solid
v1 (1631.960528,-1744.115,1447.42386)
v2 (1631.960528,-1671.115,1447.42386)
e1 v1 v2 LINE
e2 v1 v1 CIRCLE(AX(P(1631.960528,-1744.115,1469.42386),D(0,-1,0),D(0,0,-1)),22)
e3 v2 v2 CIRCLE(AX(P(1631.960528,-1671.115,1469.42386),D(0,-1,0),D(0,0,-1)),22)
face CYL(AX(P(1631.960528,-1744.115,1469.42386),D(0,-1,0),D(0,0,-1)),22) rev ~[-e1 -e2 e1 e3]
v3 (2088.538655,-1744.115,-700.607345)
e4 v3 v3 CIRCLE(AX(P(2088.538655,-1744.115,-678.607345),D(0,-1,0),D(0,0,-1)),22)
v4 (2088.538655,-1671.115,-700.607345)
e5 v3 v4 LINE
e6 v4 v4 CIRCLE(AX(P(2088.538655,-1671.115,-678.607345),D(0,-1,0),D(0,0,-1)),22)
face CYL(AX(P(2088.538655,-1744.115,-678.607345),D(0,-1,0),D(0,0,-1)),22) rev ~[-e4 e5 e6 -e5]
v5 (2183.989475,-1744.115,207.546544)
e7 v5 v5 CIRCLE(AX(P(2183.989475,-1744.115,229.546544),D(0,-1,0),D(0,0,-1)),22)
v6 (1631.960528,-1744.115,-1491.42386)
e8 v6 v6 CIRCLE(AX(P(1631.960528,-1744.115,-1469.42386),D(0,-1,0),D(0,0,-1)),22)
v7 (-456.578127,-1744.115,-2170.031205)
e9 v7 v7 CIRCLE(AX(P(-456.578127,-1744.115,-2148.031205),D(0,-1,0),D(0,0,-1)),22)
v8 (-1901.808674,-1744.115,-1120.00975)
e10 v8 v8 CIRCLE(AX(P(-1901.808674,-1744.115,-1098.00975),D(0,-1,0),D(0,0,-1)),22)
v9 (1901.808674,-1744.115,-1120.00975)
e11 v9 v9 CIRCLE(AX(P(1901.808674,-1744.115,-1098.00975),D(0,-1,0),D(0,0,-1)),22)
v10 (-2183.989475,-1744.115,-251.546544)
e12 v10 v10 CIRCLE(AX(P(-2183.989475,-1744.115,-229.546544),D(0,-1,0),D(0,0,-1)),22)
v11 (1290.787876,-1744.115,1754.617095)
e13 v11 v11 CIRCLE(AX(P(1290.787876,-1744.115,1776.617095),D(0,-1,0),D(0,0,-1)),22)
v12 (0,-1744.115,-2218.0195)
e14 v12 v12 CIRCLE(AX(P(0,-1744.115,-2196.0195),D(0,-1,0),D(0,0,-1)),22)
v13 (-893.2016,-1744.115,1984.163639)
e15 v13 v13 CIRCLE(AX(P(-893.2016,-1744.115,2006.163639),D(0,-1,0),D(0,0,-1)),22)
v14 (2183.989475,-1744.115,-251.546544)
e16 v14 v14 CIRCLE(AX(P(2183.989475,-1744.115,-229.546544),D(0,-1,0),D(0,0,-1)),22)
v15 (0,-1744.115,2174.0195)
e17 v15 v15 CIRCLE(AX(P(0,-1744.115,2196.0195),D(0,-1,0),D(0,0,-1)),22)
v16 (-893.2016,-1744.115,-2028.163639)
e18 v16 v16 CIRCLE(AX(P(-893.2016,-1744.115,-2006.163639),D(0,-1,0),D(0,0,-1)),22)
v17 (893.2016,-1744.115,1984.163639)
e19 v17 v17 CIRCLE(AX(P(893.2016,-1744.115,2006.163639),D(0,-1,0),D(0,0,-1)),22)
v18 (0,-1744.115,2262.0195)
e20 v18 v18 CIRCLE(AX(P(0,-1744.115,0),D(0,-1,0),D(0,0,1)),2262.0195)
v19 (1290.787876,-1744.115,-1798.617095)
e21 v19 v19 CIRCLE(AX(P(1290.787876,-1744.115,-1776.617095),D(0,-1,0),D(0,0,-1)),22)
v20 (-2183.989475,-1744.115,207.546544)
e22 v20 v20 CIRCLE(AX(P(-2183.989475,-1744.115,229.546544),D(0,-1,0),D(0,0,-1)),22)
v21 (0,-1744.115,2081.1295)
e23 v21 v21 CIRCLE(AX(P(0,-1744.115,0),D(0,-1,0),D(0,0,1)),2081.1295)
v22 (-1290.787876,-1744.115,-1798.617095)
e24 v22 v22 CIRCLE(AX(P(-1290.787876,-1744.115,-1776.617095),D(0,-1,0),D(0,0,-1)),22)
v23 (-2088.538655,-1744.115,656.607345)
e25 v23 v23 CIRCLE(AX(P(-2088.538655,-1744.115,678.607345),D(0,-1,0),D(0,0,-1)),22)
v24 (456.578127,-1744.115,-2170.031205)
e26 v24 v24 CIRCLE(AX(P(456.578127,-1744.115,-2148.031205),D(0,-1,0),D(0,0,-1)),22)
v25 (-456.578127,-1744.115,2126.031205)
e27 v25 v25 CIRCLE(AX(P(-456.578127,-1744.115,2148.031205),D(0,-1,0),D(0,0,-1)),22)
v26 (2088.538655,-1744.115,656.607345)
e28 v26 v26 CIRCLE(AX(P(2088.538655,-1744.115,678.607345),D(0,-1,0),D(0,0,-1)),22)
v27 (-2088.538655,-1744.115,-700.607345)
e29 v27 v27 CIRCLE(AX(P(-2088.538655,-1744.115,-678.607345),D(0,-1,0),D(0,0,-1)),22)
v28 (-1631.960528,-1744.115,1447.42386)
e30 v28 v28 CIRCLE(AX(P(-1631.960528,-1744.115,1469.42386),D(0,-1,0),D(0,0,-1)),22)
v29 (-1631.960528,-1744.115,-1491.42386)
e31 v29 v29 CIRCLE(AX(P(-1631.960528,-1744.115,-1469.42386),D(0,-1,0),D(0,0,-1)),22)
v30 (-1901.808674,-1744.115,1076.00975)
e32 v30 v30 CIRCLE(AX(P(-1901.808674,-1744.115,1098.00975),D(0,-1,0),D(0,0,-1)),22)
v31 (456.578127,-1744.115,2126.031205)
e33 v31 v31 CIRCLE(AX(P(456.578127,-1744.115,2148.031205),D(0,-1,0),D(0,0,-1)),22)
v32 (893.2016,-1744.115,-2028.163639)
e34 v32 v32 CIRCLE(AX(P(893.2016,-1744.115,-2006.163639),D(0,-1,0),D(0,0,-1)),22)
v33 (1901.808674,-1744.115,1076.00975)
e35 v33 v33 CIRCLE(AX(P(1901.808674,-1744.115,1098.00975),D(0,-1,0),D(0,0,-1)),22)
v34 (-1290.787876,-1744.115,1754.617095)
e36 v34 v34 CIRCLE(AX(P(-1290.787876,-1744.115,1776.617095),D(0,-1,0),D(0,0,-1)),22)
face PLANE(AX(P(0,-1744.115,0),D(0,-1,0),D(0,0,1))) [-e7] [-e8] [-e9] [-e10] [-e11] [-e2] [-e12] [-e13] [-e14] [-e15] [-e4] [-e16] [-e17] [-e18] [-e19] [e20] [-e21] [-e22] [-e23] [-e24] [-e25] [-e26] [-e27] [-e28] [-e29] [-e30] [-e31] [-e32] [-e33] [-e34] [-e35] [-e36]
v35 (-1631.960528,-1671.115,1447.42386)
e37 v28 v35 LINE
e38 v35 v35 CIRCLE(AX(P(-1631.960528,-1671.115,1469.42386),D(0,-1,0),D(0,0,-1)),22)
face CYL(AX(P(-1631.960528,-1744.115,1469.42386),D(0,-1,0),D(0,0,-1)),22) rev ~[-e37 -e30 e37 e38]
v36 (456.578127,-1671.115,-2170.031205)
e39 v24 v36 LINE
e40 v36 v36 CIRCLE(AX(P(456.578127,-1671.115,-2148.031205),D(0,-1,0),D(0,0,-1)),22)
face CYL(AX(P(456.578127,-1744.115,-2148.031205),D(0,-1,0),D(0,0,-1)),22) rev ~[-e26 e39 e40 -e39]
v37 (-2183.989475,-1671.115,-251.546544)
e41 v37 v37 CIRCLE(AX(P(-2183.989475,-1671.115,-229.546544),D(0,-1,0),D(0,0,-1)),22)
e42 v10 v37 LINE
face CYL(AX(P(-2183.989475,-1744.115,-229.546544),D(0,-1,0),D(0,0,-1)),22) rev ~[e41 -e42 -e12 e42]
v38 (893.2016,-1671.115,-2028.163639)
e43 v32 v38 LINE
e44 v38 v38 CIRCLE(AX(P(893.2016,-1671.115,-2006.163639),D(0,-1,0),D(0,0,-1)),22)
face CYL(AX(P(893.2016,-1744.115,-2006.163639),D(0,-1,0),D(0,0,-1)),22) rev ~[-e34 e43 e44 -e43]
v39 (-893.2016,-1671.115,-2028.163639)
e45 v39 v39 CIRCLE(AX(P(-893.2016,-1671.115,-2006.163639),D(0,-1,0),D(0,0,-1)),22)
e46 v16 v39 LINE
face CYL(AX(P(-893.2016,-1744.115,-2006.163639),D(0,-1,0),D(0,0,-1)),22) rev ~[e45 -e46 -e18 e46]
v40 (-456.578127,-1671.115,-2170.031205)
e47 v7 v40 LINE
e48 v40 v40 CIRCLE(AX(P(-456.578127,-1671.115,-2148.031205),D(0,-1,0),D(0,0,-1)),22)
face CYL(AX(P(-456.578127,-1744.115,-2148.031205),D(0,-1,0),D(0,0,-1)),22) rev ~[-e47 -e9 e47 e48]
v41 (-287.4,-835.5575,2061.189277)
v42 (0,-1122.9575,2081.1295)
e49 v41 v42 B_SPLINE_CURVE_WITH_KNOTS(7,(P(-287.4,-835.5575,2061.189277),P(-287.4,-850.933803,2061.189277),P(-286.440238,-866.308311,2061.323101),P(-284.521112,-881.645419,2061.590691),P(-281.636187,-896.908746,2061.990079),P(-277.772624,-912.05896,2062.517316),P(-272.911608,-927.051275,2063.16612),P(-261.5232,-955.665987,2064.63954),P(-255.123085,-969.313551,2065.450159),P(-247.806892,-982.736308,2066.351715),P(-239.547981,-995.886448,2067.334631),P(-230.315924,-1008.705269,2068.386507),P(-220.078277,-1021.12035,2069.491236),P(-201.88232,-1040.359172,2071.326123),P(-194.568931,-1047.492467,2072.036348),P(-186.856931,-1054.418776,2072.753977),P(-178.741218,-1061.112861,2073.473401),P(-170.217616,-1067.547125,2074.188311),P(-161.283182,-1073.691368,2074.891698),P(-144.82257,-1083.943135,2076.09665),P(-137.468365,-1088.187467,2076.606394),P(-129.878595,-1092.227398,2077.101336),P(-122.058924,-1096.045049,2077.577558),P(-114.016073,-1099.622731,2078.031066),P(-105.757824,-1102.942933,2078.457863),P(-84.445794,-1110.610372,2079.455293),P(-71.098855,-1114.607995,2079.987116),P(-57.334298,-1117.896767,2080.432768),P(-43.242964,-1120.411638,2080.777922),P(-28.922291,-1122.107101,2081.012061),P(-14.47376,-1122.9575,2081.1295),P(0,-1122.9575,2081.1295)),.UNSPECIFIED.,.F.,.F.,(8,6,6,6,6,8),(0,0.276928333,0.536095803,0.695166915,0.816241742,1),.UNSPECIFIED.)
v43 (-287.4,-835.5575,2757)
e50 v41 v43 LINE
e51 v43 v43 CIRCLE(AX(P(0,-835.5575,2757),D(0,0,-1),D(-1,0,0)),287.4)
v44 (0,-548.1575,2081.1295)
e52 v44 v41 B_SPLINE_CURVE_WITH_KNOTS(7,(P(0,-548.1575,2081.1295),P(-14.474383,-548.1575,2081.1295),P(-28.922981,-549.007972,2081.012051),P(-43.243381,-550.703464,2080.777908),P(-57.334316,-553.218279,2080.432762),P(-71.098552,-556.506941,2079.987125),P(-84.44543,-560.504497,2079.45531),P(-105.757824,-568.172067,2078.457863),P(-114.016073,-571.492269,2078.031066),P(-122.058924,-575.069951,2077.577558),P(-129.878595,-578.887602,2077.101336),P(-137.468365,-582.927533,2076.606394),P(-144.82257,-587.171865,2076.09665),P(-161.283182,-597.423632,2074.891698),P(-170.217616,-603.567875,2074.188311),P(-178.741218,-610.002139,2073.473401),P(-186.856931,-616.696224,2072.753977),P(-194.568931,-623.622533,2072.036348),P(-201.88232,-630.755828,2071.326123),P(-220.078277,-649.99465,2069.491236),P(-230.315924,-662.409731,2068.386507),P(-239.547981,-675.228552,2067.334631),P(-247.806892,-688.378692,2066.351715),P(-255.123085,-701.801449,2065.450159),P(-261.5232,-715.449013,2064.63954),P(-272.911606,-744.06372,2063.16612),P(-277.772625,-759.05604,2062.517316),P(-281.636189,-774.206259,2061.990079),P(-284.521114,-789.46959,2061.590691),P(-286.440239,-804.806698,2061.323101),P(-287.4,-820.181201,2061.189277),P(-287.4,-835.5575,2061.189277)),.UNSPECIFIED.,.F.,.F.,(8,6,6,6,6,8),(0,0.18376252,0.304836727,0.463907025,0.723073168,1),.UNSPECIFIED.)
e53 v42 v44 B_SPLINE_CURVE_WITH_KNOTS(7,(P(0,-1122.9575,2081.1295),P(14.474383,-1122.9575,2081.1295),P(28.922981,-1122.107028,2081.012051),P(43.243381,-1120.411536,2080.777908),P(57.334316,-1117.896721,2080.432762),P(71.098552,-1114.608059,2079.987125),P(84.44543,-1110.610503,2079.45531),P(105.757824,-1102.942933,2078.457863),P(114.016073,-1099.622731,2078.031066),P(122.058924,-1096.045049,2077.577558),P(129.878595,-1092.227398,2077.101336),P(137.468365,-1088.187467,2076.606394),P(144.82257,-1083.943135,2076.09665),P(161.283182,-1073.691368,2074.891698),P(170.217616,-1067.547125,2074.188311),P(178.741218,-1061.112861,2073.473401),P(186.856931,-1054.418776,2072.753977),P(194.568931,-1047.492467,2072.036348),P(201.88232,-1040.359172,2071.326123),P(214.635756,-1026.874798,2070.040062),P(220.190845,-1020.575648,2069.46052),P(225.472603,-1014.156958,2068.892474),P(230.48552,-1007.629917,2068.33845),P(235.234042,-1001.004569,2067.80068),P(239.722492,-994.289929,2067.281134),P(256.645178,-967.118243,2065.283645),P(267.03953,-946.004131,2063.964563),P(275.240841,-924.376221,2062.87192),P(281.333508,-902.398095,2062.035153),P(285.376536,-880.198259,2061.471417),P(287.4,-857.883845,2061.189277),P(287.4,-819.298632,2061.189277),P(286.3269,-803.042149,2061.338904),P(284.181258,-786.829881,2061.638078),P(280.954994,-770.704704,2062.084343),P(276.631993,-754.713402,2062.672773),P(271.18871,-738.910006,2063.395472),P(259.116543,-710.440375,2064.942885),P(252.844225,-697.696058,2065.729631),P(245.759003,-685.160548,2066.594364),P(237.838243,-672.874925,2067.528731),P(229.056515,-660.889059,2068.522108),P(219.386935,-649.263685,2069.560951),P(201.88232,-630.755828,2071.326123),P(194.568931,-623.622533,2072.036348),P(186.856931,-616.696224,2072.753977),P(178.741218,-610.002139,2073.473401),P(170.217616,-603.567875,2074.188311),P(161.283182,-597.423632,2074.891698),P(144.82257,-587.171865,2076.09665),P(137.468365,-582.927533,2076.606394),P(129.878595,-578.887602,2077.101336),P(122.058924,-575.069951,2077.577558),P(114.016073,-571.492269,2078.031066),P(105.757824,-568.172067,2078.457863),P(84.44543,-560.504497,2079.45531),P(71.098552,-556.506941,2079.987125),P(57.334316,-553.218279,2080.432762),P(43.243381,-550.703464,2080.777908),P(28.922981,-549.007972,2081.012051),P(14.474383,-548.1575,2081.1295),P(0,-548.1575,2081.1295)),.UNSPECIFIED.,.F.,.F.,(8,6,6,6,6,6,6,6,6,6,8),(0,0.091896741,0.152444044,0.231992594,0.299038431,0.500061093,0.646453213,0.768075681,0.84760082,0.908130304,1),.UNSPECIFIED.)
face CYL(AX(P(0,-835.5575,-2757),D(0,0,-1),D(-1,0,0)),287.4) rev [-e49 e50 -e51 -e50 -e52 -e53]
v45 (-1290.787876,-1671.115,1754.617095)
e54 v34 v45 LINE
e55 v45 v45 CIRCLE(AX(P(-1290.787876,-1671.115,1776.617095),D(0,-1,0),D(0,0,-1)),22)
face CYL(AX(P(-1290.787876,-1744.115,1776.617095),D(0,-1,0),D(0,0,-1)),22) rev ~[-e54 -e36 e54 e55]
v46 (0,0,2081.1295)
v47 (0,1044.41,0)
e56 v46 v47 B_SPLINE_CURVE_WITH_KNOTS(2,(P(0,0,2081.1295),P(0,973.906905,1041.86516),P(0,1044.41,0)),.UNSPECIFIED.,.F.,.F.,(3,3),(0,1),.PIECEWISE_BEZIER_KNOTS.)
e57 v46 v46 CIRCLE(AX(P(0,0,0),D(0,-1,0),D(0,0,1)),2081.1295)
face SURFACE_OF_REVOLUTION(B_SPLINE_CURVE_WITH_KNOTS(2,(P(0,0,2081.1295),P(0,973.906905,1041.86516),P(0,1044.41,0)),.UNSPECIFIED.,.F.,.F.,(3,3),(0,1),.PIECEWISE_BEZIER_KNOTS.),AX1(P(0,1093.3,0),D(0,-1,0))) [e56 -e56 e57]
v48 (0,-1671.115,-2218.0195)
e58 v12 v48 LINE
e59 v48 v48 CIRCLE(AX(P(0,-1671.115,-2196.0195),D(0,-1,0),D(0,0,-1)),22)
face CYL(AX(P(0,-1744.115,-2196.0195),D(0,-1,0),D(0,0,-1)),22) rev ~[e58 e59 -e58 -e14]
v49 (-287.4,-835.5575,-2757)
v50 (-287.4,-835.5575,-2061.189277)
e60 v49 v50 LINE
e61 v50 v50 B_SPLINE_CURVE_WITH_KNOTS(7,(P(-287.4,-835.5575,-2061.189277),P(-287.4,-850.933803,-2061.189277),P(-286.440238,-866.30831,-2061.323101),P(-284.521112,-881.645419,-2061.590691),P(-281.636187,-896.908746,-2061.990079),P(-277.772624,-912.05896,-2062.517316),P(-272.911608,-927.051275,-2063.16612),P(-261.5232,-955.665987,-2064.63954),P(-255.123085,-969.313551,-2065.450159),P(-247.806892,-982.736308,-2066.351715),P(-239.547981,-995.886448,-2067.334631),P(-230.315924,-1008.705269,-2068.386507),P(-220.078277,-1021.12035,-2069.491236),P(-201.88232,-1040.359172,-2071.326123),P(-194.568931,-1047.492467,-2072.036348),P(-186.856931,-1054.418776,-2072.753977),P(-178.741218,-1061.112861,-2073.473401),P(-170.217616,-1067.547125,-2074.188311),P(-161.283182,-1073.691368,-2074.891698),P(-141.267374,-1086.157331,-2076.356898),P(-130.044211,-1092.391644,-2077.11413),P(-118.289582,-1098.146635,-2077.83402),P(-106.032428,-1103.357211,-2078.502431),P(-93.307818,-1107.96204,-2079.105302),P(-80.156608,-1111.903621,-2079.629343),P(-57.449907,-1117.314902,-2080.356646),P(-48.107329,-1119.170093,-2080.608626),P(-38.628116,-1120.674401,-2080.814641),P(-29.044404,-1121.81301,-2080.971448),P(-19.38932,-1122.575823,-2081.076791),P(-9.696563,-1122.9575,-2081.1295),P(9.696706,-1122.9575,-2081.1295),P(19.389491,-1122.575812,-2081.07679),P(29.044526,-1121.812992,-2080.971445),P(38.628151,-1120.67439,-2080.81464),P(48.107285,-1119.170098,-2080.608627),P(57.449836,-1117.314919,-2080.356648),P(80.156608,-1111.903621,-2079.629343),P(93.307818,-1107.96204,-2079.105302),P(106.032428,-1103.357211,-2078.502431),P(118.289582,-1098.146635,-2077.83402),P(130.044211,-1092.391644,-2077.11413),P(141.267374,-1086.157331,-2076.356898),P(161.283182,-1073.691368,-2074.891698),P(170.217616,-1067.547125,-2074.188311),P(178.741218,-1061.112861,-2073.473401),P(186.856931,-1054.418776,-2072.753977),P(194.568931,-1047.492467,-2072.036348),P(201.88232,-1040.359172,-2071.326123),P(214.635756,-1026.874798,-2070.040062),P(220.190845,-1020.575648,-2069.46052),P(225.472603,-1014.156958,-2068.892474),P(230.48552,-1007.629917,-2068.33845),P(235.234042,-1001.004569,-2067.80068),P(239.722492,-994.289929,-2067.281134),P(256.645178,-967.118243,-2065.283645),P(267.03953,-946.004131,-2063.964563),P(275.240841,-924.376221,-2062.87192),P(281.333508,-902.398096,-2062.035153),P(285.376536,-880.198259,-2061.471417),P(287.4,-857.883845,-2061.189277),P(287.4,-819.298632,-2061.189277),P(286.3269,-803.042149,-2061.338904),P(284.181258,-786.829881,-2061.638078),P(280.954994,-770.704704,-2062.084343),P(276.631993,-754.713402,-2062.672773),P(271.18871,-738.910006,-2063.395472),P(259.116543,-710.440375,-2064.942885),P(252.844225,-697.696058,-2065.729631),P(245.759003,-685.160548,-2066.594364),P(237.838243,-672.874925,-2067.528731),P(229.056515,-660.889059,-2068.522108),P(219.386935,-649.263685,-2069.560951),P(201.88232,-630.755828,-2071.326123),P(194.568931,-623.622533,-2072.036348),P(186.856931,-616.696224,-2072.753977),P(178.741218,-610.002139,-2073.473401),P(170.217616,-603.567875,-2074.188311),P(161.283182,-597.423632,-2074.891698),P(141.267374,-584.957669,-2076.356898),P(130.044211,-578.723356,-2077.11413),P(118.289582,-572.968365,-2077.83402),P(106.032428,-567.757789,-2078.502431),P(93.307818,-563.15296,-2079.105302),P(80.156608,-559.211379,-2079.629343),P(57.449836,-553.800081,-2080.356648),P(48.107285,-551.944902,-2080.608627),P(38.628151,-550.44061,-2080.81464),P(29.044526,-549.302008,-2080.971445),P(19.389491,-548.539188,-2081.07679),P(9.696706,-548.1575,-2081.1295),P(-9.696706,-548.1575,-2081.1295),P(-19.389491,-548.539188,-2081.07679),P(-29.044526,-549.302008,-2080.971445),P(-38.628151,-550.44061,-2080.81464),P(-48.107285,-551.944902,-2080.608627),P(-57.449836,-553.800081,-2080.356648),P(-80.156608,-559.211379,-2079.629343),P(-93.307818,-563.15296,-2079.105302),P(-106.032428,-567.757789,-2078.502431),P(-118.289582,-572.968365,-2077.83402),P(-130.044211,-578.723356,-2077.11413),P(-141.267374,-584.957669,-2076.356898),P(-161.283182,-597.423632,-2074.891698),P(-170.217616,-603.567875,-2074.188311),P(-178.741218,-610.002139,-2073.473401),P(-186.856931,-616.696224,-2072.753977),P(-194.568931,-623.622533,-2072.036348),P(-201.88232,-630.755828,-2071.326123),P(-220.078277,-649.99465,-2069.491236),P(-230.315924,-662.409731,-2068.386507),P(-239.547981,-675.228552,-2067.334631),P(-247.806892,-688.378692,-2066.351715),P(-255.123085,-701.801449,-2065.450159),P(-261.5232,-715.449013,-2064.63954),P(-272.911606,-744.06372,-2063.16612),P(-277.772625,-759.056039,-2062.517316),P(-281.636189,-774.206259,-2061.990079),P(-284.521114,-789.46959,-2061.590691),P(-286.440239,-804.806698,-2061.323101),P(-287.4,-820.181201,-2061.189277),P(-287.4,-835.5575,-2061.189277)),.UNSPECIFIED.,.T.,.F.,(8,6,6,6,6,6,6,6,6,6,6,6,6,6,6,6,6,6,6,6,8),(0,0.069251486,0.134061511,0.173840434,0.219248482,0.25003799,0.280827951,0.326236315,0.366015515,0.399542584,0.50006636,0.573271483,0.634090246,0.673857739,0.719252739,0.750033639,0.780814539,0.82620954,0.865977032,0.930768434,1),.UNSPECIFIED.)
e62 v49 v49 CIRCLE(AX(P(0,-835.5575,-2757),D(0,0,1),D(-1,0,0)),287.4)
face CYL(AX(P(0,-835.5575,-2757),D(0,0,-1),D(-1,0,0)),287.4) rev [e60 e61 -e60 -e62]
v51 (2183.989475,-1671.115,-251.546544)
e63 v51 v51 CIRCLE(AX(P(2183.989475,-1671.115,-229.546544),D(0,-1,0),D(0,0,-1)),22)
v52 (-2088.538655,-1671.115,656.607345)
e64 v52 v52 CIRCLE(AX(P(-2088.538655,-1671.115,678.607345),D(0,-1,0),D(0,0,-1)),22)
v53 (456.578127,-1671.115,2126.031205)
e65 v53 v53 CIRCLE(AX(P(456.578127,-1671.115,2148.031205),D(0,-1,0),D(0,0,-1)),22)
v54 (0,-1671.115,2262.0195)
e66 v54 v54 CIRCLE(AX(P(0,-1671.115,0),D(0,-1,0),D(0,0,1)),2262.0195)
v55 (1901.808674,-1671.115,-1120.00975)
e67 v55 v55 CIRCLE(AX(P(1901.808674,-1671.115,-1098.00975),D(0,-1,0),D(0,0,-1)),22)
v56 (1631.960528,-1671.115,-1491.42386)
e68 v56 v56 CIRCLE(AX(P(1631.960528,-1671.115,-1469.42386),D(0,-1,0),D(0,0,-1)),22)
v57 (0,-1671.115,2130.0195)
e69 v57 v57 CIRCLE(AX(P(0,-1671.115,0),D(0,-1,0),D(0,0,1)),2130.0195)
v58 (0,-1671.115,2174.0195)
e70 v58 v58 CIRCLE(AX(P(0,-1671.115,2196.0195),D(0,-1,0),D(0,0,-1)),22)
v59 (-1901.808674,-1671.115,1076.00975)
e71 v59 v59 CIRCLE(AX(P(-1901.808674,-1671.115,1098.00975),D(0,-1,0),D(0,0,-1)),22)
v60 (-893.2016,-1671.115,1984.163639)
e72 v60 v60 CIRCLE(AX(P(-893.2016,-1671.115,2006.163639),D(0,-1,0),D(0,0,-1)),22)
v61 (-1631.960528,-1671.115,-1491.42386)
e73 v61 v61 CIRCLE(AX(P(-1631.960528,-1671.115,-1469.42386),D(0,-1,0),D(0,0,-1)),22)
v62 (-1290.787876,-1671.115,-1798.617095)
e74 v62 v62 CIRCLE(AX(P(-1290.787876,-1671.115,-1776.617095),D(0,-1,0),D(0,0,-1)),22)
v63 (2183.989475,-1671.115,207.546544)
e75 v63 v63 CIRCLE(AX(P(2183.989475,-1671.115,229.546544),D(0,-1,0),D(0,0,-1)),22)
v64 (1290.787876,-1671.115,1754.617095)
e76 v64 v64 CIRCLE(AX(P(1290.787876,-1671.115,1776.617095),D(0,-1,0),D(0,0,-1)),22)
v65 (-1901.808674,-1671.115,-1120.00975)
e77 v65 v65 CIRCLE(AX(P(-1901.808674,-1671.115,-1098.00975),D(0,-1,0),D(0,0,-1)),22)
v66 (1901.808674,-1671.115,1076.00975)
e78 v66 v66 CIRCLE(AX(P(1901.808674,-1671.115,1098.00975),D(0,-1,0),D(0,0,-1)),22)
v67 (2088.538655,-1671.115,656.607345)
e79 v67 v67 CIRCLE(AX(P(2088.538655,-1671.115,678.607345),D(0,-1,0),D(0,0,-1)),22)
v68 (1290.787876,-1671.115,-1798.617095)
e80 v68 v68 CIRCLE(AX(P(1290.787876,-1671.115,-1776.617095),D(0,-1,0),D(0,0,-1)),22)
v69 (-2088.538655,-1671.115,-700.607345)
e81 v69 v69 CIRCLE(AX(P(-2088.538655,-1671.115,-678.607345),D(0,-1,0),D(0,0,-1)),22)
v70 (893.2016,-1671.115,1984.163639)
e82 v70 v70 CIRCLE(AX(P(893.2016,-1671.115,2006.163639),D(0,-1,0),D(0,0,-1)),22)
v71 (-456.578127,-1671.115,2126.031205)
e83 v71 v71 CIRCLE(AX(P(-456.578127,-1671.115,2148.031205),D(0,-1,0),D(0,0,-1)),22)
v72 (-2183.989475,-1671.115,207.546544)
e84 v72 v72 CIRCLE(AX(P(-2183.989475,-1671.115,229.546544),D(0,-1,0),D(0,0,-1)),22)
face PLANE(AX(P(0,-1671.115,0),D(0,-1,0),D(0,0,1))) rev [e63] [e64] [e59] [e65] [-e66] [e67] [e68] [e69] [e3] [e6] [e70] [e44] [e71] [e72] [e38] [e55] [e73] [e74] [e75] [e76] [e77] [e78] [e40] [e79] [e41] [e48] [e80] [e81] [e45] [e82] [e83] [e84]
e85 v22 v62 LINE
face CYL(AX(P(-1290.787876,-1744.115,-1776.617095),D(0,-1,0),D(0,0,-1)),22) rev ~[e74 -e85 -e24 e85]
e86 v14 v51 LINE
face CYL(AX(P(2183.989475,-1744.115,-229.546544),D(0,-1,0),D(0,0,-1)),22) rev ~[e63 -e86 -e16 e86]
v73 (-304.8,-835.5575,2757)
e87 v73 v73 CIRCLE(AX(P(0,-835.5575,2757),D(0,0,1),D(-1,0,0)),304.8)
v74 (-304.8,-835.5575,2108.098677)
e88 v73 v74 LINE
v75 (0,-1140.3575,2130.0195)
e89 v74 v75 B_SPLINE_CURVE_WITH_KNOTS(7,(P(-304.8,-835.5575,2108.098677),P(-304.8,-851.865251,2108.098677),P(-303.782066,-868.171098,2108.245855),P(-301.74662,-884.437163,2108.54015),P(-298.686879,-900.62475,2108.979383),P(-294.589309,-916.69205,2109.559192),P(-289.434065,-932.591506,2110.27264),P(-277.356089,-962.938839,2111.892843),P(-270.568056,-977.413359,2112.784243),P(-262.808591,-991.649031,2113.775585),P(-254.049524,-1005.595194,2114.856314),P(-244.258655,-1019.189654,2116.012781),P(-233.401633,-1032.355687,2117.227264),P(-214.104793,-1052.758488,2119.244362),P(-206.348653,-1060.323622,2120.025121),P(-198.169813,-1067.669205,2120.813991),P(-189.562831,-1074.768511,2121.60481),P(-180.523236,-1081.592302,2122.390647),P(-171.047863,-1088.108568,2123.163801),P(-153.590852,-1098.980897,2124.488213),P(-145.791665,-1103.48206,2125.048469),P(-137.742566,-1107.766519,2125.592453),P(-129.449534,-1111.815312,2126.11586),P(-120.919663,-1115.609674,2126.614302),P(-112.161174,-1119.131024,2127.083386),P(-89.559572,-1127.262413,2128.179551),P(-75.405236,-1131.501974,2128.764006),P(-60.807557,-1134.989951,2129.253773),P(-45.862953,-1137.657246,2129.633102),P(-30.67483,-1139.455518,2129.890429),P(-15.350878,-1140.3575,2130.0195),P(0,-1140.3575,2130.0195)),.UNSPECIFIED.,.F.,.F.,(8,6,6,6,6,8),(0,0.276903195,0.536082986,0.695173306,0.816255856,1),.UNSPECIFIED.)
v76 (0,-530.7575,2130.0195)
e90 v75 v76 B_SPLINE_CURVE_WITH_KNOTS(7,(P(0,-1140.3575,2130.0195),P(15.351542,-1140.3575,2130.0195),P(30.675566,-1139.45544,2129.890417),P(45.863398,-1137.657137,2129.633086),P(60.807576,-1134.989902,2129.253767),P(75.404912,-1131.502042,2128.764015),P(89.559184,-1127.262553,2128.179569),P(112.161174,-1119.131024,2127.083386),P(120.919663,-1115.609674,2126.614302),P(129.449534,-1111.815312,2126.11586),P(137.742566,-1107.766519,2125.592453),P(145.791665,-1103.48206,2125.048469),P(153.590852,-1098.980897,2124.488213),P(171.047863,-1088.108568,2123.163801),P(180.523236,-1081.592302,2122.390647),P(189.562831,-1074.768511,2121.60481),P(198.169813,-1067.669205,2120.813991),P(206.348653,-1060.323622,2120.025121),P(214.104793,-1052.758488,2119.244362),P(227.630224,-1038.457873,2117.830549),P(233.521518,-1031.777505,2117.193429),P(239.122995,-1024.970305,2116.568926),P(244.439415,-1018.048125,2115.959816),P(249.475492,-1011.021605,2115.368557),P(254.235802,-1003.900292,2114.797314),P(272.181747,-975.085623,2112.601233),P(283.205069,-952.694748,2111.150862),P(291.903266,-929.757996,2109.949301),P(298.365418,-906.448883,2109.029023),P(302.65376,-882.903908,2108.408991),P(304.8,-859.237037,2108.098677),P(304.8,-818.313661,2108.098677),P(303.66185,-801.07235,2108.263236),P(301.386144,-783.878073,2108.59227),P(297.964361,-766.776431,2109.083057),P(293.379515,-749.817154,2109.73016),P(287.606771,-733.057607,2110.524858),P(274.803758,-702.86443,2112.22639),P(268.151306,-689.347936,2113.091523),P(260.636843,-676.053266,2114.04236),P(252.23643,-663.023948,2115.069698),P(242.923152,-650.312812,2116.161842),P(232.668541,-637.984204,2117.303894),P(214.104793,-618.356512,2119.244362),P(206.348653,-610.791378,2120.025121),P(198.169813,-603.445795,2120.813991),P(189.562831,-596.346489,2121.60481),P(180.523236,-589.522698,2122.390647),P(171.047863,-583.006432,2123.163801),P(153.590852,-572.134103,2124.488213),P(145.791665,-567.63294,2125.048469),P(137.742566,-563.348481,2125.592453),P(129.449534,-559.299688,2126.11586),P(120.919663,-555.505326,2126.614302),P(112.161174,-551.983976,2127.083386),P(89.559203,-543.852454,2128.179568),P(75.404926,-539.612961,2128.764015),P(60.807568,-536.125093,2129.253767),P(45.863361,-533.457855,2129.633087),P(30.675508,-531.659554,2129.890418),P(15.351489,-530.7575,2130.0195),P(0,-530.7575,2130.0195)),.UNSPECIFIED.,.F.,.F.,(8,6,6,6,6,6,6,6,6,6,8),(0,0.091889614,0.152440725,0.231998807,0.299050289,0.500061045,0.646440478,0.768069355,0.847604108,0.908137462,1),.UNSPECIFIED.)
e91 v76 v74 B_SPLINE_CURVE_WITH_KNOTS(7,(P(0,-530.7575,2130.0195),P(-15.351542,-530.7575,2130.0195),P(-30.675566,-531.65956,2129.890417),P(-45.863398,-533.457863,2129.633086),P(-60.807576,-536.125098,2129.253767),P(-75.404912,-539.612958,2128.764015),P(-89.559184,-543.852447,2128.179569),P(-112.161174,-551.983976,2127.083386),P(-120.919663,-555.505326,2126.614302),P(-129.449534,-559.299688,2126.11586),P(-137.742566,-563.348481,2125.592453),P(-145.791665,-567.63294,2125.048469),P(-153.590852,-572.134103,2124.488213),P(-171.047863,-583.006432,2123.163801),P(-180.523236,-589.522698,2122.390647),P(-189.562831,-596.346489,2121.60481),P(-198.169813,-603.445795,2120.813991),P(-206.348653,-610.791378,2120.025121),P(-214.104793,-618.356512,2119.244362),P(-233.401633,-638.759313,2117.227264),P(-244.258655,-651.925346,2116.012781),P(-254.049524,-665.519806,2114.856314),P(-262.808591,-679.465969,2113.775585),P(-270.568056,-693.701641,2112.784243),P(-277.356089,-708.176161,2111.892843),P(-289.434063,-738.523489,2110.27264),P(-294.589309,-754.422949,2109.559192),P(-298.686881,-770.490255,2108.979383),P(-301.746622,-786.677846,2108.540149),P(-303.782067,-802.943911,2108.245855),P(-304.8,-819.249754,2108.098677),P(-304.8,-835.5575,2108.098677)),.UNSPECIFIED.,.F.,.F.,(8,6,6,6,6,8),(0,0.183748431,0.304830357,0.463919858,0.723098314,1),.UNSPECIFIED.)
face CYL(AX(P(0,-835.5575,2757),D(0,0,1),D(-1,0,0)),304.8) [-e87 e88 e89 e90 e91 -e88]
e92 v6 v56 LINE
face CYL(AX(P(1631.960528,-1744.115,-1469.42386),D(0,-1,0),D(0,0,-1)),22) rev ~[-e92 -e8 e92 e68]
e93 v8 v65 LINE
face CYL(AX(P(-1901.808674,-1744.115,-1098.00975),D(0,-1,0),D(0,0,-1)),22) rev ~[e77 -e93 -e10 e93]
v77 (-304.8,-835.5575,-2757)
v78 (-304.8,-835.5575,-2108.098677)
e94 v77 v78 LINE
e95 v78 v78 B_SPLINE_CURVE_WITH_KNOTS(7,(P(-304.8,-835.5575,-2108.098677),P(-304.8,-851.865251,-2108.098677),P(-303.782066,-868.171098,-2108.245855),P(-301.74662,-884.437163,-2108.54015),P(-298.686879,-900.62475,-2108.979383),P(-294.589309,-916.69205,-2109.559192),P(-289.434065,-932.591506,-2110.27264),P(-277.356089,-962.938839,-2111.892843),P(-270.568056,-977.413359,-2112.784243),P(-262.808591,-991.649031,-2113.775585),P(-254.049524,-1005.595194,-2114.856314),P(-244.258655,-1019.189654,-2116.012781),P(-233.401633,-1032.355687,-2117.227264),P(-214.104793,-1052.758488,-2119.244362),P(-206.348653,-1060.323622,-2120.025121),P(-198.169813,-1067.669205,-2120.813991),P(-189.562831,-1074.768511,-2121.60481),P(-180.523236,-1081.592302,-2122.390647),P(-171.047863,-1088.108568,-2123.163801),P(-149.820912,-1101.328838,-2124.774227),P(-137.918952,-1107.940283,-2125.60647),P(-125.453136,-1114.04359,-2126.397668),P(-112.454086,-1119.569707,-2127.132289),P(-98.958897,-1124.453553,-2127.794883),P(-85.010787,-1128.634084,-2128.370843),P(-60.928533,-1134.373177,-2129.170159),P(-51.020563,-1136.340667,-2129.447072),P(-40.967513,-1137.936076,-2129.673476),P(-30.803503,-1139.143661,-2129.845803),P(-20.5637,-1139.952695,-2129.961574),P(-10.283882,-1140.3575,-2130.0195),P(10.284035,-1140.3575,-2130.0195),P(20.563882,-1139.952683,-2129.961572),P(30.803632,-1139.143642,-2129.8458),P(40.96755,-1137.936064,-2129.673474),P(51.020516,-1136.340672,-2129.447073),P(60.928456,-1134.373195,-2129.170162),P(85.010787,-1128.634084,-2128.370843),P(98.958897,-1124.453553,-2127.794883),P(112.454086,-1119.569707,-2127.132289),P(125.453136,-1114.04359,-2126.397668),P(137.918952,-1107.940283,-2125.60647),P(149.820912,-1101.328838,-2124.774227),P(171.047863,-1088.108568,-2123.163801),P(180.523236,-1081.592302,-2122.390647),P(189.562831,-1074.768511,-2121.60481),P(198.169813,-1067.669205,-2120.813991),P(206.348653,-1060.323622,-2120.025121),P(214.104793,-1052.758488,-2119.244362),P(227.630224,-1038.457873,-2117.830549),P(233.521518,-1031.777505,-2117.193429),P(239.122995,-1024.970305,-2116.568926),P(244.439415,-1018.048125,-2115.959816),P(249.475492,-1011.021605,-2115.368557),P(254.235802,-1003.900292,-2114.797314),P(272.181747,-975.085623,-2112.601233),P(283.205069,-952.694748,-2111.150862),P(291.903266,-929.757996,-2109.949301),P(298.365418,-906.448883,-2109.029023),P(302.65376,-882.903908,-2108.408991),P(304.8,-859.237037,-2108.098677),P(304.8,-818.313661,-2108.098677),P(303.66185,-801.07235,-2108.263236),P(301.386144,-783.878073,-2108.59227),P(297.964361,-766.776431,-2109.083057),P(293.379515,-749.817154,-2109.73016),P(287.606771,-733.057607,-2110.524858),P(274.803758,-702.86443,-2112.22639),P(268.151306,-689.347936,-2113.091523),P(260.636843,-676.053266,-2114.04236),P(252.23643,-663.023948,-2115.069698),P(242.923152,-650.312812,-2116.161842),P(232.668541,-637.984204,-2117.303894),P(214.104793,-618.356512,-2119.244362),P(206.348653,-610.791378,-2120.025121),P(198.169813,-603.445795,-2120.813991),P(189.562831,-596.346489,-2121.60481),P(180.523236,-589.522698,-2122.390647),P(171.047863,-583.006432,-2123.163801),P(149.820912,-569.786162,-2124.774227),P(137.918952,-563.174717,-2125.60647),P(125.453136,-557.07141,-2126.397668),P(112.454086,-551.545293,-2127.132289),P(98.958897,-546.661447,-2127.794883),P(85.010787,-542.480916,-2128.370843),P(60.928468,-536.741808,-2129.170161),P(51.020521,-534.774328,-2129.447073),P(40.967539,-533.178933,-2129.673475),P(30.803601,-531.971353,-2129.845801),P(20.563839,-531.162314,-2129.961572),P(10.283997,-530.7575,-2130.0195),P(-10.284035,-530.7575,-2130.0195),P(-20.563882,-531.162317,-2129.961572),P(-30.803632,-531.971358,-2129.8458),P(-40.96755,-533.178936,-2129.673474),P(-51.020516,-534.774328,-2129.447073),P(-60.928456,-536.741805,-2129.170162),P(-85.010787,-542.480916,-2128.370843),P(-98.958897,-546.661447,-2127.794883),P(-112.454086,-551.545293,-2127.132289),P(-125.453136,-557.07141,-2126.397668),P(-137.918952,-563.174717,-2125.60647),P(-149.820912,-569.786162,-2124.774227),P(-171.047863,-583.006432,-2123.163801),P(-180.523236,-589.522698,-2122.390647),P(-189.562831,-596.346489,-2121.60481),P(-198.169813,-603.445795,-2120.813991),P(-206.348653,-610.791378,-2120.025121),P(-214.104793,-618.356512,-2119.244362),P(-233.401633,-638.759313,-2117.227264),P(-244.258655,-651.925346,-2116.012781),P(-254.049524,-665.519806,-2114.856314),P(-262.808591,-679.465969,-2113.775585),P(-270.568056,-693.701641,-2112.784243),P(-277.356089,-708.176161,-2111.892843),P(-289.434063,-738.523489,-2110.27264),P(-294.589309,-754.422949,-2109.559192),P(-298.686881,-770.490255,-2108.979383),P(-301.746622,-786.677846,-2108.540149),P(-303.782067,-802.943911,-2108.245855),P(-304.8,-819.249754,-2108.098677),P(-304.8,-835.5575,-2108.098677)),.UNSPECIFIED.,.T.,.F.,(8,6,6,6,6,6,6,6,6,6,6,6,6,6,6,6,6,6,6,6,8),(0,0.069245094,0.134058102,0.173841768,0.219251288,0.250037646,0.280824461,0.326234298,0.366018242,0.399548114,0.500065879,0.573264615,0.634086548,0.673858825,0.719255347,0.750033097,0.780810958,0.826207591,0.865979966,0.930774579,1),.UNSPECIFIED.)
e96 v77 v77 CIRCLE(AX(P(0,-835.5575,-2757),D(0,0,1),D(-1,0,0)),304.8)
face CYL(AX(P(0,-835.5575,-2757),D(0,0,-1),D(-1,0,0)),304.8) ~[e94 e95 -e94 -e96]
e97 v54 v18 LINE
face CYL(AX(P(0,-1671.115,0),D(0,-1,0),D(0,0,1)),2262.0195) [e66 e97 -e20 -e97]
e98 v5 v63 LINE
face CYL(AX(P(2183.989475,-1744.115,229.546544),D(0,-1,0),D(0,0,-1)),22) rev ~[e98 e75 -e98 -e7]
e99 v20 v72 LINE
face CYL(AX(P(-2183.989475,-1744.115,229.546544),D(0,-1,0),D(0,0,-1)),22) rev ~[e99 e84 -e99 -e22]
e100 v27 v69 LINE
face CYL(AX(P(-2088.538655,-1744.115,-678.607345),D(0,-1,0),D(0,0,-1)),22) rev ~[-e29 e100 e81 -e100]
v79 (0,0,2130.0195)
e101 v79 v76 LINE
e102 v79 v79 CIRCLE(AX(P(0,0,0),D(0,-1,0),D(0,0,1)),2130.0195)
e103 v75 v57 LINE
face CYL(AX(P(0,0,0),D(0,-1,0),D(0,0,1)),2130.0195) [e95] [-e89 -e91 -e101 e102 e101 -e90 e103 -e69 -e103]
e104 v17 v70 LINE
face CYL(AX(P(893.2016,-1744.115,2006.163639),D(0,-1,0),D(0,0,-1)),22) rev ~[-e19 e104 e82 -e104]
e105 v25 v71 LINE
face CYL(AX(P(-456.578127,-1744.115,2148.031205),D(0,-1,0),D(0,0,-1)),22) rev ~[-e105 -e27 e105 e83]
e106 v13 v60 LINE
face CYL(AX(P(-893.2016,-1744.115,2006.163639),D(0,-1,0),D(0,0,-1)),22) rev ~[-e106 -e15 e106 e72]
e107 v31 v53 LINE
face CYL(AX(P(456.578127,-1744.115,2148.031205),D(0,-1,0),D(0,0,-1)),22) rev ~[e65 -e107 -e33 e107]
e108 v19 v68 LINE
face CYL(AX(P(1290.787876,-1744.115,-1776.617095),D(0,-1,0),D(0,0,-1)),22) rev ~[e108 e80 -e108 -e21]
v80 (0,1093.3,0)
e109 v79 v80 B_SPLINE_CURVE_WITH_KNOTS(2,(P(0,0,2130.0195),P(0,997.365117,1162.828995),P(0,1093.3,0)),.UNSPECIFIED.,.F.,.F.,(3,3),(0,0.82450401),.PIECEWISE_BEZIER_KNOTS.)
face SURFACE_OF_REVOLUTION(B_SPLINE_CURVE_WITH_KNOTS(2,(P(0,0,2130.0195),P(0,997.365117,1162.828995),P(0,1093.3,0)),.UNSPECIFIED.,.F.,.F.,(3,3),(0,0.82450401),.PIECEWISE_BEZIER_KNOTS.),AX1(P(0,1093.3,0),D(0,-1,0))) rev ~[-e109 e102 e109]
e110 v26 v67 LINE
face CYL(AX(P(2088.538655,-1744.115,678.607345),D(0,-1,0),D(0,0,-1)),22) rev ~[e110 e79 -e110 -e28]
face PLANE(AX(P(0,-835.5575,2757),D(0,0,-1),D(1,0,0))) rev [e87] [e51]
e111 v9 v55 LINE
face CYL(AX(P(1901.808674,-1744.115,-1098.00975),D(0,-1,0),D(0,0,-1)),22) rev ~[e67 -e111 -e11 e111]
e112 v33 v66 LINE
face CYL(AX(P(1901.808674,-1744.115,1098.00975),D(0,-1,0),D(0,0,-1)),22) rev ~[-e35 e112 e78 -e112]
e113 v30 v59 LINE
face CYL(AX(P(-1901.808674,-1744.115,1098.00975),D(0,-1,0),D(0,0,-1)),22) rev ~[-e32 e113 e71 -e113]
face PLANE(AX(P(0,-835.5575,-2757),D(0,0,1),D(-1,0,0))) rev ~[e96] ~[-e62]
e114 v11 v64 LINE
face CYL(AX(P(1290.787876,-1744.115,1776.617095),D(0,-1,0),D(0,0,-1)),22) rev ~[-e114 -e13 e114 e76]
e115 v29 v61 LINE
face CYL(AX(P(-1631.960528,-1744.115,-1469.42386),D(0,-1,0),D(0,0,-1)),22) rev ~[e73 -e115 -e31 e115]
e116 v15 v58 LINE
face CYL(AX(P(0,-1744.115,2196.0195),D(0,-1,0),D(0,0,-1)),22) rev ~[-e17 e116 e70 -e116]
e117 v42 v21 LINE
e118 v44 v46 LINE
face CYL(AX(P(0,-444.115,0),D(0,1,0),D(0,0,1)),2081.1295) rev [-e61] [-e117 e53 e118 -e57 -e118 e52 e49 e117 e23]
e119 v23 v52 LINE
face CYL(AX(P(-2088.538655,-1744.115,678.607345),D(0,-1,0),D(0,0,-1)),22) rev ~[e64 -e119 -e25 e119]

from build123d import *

# Parameters (mm, degrees)
SKETCH5_R           = 304.8
BOSS_EXTRUDE1_DEPTH = 740
SKETCH6_R           = 287.4
CUT_EXTRUDE2_DEPTH  = 10000
SKETCH7_R           = 2056.6885
CUT_EXTRUDE3_DEPTH  = 1400
CUT_EXTRUDE4_START  = -1300
SKETCH9_R           = 2081.1295
CUT_EXTRUDE4_DEPTH  = 1300
SKETCH11_R          = 22
CUT_EXTRUDE5_DEPTH  = 500


with BuildPart() as part:
    # Sketch2 → Revolve3 (revolve)
    with BuildSketch(Plane(origin=(0, 0, 0), x_dir=(0, 0, -1), z_dir=(1, 0, 0))):
        with BuildLine():
            Line((-2081.1295, -171.115), (-2081.1295, 0))
            add(Edge.make_bspline(
                [(-2081.1295, 0), (-1041.865159808, 973.906904547), (0, 1044.41)],
                knots=[0, 0, 0, 1, 1, 1], degree=2))
            Line((0, 1044.41), (0, 1093.3))
            add(Edge.make_bspline(
                [(-2130.0195, 0), (-1162.828995464, 997.365117244), (0, 1093.3)],
                knots=[0, 0, 0, 0.82450401, 0.82450401, 0.82450401], degree=2))
            Line((-2130.0195, 0), (-2130.0195, -171.115))
            Line((-2130.0195, -171.115), (-2130.0195, -1671.115))
            Line((-2130.0195, -1671.115), (-2262.0195, -1671.115))
            Line((-2262.0195, -1671.115), (-2262.0195, -1744.115))
            Line((-2262.0195, -1744.115), (-2081.1295, -1744.115))
            Line((-2081.1295, -1744.115), (-2081.1295, -171.115))
        make_face()
    revolve(axis=Axis((0, 1093.3, 0), (0, -1, 0)))

    # Sketch5 → Boss-Extrude1 (add)
    with BuildSketch(Plane.XY.offset(-2757)):
        with Locations(Location((0, -835.5575, 0), (0, 0, 180))):
            Circle(SKETCH5_R)
    boss_extrude1 = extrude(amount=BOSS_EXTRUDE1_DEPTH)

    # Mirror1: Boss-Extrude1 across plane
    add(boss_extrude1.mirror(Plane.XY))

    # Sketch6 → Cut-Extrude2 (cut)
    with BuildSketch(Plane.XY.offset(-2757)):
        with Locations(Location((0, -835.5575, 0), (0, 0, 180))):
            Circle(SKETCH6_R)
    extrude(amount=CUT_EXTRUDE2_DEPTH, mode=Mode.SUBTRACT)

    # Sketch7 → Cut-Extrude3 (cut)
    with BuildSketch(Plane.XZ.offset(1744.115)):
        Circle(SKETCH7_R)
    extrude(amount=-CUT_EXTRUDE3_DEPTH, mode=Mode.SUBTRACT)

    # Sketch9 → Cut-Extrude4 (cut)
    with BuildSketch(Plane.XZ.offset(1744.115).offset(CUT_EXTRUDE4_START)):
        with Locations(Location((0, 0, 0), (0, 0, 90))):
            Circle(SKETCH9_R)
    extrude(amount=CUT_EXTRUDE4_DEPTH, mode=Mode.SUBTRACT)

    # Sketch11 → Cut-Extrude5 (cut)
    with BuildSketch(Plane.XZ.offset(1744.115)):
        with Locations(Location((0, 2196.0195, 0), (0, 0, 270))):
            Circle(SKETCH11_R)
        with Locations(Location((456.578127314, 2148.03120509, 0), (0, 0, 270))):
            Circle(SKETCH11_R)
        with Locations(Location((893.201599559, 2006.16363912, 0), (0, 0, 270))):
            Circle(SKETCH11_R)
        with Locations(Location((1290.787875847, 1776.617095479, 0), (0, 0, 270))):
            Circle(SKETCH11_R)
        with Locations(Location((1631.960528072, 1469.423859611, 0), (0, 0, 270))):
            Circle(SKETCH11_R)
        with Locations(Location((1901.808674206, 1098.00975, 0), (0, 0, 270))):
            Circle(SKETCH11_R)
        with Locations(Location((2088.538655386, 678.607345479, 0), (0, 0, 270))):
            Circle(SKETCH11_R)
        with Locations(Location((2183.989475406, 229.546543641, 0), (0, 0, 270))):
            Circle(SKETCH11_R)
        with Locations(Location((2183.989475406, -229.546543641, 0), (0, 0, 270))):
            Circle(SKETCH11_R)
        with Locations(Location((2088.538655386, -678.607345479, 0), (0, 0, 270))):
            Circle(SKETCH11_R)
        with Locations(Location((1901.808674206, -1098.00975, 0), (0, 0, 270))):
            Circle(SKETCH11_R)
        with Locations(Location((1631.960528072, -1469.423859611, 0), (0, 0, 270))):
            Circle(SKETCH11_R)
        with Locations(Location((1290.787875847, -1776.617095479, 0), (0, 0, 270))):
            Circle(SKETCH11_R)
        with Locations(Location((893.201599559, -2006.16363912, 0), (0, 0, 270))):
            Circle(SKETCH11_R)
        with Locations(Location((456.578127314, -2148.03120509, 0), (0, 0, 270))):
            Circle(SKETCH11_R)
        with Locations(Location((0, -2196.0195, 0), (0, 0, 270))):
            Circle(SKETCH11_R)
        with Locations(Location((-456.578127314, -2148.03120509, 0), (0, 0, 270))):
            Circle(SKETCH11_R)
        with Locations(Location((-893.201599559, -2006.16363912, 0), (0, 0, 270))):
            Circle(SKETCH11_R)
        with Locations(Location((-1290.787875847, -1776.617095479, 0), (0, 0, 270))):
            Circle(SKETCH11_R)
        with Locations(Location((-1631.960528072, -1469.423859611, 0), (0, 0, 270))):
            Circle(SKETCH11_R)
        with Locations(Location((-1901.808674206, -1098.00975, 0), (0, 0, 270))):
            Circle(SKETCH11_R)
        with Locations(Location((-2088.538655386, -678.607345479, 0), (0, 0, 270))):
            Circle(SKETCH11_R)
        with Locations(Location((-2183.989475406, -229.546543641, 0), (0, 0, 270))):
            Circle(SKETCH11_R)
        with Locations(Location((-2183.989475406, 229.546543641, 0), (0, 0, 270))):
            Circle(SKETCH11_R)
        with Locations(Location((-2088.538655386, 678.607345479, 0), (0, 0, 270))):
            Circle(SKETCH11_R)
        with Locations(Location((-1901.808674206, 1098.00975, 0), (0, 0, 270))):
            Circle(SKETCH11_R)
        with Locations(Location((-1631.960528072, 1469.423859611, 0), (0, 0, 270))):
            Circle(SKETCH11_R)
        with Locations(Location((-1290.787875847, 1776.617095479, 0), (0, 0, 270))):
            Circle(SKETCH11_R)
        with Locations(Location((-893.201599559, 2006.16363912, 0), (0, 0, 270))):
            Circle(SKETCH11_R)
        with Locations(Location((-456.578127314, 2148.03120509, 0), (0, 0, 270))):
            Circle(SKETCH11_R)
    extrude(amount=-CUT_EXTRUDE5_DEPTH, mode=Mode.SUBTRACT)


solid = part.part
